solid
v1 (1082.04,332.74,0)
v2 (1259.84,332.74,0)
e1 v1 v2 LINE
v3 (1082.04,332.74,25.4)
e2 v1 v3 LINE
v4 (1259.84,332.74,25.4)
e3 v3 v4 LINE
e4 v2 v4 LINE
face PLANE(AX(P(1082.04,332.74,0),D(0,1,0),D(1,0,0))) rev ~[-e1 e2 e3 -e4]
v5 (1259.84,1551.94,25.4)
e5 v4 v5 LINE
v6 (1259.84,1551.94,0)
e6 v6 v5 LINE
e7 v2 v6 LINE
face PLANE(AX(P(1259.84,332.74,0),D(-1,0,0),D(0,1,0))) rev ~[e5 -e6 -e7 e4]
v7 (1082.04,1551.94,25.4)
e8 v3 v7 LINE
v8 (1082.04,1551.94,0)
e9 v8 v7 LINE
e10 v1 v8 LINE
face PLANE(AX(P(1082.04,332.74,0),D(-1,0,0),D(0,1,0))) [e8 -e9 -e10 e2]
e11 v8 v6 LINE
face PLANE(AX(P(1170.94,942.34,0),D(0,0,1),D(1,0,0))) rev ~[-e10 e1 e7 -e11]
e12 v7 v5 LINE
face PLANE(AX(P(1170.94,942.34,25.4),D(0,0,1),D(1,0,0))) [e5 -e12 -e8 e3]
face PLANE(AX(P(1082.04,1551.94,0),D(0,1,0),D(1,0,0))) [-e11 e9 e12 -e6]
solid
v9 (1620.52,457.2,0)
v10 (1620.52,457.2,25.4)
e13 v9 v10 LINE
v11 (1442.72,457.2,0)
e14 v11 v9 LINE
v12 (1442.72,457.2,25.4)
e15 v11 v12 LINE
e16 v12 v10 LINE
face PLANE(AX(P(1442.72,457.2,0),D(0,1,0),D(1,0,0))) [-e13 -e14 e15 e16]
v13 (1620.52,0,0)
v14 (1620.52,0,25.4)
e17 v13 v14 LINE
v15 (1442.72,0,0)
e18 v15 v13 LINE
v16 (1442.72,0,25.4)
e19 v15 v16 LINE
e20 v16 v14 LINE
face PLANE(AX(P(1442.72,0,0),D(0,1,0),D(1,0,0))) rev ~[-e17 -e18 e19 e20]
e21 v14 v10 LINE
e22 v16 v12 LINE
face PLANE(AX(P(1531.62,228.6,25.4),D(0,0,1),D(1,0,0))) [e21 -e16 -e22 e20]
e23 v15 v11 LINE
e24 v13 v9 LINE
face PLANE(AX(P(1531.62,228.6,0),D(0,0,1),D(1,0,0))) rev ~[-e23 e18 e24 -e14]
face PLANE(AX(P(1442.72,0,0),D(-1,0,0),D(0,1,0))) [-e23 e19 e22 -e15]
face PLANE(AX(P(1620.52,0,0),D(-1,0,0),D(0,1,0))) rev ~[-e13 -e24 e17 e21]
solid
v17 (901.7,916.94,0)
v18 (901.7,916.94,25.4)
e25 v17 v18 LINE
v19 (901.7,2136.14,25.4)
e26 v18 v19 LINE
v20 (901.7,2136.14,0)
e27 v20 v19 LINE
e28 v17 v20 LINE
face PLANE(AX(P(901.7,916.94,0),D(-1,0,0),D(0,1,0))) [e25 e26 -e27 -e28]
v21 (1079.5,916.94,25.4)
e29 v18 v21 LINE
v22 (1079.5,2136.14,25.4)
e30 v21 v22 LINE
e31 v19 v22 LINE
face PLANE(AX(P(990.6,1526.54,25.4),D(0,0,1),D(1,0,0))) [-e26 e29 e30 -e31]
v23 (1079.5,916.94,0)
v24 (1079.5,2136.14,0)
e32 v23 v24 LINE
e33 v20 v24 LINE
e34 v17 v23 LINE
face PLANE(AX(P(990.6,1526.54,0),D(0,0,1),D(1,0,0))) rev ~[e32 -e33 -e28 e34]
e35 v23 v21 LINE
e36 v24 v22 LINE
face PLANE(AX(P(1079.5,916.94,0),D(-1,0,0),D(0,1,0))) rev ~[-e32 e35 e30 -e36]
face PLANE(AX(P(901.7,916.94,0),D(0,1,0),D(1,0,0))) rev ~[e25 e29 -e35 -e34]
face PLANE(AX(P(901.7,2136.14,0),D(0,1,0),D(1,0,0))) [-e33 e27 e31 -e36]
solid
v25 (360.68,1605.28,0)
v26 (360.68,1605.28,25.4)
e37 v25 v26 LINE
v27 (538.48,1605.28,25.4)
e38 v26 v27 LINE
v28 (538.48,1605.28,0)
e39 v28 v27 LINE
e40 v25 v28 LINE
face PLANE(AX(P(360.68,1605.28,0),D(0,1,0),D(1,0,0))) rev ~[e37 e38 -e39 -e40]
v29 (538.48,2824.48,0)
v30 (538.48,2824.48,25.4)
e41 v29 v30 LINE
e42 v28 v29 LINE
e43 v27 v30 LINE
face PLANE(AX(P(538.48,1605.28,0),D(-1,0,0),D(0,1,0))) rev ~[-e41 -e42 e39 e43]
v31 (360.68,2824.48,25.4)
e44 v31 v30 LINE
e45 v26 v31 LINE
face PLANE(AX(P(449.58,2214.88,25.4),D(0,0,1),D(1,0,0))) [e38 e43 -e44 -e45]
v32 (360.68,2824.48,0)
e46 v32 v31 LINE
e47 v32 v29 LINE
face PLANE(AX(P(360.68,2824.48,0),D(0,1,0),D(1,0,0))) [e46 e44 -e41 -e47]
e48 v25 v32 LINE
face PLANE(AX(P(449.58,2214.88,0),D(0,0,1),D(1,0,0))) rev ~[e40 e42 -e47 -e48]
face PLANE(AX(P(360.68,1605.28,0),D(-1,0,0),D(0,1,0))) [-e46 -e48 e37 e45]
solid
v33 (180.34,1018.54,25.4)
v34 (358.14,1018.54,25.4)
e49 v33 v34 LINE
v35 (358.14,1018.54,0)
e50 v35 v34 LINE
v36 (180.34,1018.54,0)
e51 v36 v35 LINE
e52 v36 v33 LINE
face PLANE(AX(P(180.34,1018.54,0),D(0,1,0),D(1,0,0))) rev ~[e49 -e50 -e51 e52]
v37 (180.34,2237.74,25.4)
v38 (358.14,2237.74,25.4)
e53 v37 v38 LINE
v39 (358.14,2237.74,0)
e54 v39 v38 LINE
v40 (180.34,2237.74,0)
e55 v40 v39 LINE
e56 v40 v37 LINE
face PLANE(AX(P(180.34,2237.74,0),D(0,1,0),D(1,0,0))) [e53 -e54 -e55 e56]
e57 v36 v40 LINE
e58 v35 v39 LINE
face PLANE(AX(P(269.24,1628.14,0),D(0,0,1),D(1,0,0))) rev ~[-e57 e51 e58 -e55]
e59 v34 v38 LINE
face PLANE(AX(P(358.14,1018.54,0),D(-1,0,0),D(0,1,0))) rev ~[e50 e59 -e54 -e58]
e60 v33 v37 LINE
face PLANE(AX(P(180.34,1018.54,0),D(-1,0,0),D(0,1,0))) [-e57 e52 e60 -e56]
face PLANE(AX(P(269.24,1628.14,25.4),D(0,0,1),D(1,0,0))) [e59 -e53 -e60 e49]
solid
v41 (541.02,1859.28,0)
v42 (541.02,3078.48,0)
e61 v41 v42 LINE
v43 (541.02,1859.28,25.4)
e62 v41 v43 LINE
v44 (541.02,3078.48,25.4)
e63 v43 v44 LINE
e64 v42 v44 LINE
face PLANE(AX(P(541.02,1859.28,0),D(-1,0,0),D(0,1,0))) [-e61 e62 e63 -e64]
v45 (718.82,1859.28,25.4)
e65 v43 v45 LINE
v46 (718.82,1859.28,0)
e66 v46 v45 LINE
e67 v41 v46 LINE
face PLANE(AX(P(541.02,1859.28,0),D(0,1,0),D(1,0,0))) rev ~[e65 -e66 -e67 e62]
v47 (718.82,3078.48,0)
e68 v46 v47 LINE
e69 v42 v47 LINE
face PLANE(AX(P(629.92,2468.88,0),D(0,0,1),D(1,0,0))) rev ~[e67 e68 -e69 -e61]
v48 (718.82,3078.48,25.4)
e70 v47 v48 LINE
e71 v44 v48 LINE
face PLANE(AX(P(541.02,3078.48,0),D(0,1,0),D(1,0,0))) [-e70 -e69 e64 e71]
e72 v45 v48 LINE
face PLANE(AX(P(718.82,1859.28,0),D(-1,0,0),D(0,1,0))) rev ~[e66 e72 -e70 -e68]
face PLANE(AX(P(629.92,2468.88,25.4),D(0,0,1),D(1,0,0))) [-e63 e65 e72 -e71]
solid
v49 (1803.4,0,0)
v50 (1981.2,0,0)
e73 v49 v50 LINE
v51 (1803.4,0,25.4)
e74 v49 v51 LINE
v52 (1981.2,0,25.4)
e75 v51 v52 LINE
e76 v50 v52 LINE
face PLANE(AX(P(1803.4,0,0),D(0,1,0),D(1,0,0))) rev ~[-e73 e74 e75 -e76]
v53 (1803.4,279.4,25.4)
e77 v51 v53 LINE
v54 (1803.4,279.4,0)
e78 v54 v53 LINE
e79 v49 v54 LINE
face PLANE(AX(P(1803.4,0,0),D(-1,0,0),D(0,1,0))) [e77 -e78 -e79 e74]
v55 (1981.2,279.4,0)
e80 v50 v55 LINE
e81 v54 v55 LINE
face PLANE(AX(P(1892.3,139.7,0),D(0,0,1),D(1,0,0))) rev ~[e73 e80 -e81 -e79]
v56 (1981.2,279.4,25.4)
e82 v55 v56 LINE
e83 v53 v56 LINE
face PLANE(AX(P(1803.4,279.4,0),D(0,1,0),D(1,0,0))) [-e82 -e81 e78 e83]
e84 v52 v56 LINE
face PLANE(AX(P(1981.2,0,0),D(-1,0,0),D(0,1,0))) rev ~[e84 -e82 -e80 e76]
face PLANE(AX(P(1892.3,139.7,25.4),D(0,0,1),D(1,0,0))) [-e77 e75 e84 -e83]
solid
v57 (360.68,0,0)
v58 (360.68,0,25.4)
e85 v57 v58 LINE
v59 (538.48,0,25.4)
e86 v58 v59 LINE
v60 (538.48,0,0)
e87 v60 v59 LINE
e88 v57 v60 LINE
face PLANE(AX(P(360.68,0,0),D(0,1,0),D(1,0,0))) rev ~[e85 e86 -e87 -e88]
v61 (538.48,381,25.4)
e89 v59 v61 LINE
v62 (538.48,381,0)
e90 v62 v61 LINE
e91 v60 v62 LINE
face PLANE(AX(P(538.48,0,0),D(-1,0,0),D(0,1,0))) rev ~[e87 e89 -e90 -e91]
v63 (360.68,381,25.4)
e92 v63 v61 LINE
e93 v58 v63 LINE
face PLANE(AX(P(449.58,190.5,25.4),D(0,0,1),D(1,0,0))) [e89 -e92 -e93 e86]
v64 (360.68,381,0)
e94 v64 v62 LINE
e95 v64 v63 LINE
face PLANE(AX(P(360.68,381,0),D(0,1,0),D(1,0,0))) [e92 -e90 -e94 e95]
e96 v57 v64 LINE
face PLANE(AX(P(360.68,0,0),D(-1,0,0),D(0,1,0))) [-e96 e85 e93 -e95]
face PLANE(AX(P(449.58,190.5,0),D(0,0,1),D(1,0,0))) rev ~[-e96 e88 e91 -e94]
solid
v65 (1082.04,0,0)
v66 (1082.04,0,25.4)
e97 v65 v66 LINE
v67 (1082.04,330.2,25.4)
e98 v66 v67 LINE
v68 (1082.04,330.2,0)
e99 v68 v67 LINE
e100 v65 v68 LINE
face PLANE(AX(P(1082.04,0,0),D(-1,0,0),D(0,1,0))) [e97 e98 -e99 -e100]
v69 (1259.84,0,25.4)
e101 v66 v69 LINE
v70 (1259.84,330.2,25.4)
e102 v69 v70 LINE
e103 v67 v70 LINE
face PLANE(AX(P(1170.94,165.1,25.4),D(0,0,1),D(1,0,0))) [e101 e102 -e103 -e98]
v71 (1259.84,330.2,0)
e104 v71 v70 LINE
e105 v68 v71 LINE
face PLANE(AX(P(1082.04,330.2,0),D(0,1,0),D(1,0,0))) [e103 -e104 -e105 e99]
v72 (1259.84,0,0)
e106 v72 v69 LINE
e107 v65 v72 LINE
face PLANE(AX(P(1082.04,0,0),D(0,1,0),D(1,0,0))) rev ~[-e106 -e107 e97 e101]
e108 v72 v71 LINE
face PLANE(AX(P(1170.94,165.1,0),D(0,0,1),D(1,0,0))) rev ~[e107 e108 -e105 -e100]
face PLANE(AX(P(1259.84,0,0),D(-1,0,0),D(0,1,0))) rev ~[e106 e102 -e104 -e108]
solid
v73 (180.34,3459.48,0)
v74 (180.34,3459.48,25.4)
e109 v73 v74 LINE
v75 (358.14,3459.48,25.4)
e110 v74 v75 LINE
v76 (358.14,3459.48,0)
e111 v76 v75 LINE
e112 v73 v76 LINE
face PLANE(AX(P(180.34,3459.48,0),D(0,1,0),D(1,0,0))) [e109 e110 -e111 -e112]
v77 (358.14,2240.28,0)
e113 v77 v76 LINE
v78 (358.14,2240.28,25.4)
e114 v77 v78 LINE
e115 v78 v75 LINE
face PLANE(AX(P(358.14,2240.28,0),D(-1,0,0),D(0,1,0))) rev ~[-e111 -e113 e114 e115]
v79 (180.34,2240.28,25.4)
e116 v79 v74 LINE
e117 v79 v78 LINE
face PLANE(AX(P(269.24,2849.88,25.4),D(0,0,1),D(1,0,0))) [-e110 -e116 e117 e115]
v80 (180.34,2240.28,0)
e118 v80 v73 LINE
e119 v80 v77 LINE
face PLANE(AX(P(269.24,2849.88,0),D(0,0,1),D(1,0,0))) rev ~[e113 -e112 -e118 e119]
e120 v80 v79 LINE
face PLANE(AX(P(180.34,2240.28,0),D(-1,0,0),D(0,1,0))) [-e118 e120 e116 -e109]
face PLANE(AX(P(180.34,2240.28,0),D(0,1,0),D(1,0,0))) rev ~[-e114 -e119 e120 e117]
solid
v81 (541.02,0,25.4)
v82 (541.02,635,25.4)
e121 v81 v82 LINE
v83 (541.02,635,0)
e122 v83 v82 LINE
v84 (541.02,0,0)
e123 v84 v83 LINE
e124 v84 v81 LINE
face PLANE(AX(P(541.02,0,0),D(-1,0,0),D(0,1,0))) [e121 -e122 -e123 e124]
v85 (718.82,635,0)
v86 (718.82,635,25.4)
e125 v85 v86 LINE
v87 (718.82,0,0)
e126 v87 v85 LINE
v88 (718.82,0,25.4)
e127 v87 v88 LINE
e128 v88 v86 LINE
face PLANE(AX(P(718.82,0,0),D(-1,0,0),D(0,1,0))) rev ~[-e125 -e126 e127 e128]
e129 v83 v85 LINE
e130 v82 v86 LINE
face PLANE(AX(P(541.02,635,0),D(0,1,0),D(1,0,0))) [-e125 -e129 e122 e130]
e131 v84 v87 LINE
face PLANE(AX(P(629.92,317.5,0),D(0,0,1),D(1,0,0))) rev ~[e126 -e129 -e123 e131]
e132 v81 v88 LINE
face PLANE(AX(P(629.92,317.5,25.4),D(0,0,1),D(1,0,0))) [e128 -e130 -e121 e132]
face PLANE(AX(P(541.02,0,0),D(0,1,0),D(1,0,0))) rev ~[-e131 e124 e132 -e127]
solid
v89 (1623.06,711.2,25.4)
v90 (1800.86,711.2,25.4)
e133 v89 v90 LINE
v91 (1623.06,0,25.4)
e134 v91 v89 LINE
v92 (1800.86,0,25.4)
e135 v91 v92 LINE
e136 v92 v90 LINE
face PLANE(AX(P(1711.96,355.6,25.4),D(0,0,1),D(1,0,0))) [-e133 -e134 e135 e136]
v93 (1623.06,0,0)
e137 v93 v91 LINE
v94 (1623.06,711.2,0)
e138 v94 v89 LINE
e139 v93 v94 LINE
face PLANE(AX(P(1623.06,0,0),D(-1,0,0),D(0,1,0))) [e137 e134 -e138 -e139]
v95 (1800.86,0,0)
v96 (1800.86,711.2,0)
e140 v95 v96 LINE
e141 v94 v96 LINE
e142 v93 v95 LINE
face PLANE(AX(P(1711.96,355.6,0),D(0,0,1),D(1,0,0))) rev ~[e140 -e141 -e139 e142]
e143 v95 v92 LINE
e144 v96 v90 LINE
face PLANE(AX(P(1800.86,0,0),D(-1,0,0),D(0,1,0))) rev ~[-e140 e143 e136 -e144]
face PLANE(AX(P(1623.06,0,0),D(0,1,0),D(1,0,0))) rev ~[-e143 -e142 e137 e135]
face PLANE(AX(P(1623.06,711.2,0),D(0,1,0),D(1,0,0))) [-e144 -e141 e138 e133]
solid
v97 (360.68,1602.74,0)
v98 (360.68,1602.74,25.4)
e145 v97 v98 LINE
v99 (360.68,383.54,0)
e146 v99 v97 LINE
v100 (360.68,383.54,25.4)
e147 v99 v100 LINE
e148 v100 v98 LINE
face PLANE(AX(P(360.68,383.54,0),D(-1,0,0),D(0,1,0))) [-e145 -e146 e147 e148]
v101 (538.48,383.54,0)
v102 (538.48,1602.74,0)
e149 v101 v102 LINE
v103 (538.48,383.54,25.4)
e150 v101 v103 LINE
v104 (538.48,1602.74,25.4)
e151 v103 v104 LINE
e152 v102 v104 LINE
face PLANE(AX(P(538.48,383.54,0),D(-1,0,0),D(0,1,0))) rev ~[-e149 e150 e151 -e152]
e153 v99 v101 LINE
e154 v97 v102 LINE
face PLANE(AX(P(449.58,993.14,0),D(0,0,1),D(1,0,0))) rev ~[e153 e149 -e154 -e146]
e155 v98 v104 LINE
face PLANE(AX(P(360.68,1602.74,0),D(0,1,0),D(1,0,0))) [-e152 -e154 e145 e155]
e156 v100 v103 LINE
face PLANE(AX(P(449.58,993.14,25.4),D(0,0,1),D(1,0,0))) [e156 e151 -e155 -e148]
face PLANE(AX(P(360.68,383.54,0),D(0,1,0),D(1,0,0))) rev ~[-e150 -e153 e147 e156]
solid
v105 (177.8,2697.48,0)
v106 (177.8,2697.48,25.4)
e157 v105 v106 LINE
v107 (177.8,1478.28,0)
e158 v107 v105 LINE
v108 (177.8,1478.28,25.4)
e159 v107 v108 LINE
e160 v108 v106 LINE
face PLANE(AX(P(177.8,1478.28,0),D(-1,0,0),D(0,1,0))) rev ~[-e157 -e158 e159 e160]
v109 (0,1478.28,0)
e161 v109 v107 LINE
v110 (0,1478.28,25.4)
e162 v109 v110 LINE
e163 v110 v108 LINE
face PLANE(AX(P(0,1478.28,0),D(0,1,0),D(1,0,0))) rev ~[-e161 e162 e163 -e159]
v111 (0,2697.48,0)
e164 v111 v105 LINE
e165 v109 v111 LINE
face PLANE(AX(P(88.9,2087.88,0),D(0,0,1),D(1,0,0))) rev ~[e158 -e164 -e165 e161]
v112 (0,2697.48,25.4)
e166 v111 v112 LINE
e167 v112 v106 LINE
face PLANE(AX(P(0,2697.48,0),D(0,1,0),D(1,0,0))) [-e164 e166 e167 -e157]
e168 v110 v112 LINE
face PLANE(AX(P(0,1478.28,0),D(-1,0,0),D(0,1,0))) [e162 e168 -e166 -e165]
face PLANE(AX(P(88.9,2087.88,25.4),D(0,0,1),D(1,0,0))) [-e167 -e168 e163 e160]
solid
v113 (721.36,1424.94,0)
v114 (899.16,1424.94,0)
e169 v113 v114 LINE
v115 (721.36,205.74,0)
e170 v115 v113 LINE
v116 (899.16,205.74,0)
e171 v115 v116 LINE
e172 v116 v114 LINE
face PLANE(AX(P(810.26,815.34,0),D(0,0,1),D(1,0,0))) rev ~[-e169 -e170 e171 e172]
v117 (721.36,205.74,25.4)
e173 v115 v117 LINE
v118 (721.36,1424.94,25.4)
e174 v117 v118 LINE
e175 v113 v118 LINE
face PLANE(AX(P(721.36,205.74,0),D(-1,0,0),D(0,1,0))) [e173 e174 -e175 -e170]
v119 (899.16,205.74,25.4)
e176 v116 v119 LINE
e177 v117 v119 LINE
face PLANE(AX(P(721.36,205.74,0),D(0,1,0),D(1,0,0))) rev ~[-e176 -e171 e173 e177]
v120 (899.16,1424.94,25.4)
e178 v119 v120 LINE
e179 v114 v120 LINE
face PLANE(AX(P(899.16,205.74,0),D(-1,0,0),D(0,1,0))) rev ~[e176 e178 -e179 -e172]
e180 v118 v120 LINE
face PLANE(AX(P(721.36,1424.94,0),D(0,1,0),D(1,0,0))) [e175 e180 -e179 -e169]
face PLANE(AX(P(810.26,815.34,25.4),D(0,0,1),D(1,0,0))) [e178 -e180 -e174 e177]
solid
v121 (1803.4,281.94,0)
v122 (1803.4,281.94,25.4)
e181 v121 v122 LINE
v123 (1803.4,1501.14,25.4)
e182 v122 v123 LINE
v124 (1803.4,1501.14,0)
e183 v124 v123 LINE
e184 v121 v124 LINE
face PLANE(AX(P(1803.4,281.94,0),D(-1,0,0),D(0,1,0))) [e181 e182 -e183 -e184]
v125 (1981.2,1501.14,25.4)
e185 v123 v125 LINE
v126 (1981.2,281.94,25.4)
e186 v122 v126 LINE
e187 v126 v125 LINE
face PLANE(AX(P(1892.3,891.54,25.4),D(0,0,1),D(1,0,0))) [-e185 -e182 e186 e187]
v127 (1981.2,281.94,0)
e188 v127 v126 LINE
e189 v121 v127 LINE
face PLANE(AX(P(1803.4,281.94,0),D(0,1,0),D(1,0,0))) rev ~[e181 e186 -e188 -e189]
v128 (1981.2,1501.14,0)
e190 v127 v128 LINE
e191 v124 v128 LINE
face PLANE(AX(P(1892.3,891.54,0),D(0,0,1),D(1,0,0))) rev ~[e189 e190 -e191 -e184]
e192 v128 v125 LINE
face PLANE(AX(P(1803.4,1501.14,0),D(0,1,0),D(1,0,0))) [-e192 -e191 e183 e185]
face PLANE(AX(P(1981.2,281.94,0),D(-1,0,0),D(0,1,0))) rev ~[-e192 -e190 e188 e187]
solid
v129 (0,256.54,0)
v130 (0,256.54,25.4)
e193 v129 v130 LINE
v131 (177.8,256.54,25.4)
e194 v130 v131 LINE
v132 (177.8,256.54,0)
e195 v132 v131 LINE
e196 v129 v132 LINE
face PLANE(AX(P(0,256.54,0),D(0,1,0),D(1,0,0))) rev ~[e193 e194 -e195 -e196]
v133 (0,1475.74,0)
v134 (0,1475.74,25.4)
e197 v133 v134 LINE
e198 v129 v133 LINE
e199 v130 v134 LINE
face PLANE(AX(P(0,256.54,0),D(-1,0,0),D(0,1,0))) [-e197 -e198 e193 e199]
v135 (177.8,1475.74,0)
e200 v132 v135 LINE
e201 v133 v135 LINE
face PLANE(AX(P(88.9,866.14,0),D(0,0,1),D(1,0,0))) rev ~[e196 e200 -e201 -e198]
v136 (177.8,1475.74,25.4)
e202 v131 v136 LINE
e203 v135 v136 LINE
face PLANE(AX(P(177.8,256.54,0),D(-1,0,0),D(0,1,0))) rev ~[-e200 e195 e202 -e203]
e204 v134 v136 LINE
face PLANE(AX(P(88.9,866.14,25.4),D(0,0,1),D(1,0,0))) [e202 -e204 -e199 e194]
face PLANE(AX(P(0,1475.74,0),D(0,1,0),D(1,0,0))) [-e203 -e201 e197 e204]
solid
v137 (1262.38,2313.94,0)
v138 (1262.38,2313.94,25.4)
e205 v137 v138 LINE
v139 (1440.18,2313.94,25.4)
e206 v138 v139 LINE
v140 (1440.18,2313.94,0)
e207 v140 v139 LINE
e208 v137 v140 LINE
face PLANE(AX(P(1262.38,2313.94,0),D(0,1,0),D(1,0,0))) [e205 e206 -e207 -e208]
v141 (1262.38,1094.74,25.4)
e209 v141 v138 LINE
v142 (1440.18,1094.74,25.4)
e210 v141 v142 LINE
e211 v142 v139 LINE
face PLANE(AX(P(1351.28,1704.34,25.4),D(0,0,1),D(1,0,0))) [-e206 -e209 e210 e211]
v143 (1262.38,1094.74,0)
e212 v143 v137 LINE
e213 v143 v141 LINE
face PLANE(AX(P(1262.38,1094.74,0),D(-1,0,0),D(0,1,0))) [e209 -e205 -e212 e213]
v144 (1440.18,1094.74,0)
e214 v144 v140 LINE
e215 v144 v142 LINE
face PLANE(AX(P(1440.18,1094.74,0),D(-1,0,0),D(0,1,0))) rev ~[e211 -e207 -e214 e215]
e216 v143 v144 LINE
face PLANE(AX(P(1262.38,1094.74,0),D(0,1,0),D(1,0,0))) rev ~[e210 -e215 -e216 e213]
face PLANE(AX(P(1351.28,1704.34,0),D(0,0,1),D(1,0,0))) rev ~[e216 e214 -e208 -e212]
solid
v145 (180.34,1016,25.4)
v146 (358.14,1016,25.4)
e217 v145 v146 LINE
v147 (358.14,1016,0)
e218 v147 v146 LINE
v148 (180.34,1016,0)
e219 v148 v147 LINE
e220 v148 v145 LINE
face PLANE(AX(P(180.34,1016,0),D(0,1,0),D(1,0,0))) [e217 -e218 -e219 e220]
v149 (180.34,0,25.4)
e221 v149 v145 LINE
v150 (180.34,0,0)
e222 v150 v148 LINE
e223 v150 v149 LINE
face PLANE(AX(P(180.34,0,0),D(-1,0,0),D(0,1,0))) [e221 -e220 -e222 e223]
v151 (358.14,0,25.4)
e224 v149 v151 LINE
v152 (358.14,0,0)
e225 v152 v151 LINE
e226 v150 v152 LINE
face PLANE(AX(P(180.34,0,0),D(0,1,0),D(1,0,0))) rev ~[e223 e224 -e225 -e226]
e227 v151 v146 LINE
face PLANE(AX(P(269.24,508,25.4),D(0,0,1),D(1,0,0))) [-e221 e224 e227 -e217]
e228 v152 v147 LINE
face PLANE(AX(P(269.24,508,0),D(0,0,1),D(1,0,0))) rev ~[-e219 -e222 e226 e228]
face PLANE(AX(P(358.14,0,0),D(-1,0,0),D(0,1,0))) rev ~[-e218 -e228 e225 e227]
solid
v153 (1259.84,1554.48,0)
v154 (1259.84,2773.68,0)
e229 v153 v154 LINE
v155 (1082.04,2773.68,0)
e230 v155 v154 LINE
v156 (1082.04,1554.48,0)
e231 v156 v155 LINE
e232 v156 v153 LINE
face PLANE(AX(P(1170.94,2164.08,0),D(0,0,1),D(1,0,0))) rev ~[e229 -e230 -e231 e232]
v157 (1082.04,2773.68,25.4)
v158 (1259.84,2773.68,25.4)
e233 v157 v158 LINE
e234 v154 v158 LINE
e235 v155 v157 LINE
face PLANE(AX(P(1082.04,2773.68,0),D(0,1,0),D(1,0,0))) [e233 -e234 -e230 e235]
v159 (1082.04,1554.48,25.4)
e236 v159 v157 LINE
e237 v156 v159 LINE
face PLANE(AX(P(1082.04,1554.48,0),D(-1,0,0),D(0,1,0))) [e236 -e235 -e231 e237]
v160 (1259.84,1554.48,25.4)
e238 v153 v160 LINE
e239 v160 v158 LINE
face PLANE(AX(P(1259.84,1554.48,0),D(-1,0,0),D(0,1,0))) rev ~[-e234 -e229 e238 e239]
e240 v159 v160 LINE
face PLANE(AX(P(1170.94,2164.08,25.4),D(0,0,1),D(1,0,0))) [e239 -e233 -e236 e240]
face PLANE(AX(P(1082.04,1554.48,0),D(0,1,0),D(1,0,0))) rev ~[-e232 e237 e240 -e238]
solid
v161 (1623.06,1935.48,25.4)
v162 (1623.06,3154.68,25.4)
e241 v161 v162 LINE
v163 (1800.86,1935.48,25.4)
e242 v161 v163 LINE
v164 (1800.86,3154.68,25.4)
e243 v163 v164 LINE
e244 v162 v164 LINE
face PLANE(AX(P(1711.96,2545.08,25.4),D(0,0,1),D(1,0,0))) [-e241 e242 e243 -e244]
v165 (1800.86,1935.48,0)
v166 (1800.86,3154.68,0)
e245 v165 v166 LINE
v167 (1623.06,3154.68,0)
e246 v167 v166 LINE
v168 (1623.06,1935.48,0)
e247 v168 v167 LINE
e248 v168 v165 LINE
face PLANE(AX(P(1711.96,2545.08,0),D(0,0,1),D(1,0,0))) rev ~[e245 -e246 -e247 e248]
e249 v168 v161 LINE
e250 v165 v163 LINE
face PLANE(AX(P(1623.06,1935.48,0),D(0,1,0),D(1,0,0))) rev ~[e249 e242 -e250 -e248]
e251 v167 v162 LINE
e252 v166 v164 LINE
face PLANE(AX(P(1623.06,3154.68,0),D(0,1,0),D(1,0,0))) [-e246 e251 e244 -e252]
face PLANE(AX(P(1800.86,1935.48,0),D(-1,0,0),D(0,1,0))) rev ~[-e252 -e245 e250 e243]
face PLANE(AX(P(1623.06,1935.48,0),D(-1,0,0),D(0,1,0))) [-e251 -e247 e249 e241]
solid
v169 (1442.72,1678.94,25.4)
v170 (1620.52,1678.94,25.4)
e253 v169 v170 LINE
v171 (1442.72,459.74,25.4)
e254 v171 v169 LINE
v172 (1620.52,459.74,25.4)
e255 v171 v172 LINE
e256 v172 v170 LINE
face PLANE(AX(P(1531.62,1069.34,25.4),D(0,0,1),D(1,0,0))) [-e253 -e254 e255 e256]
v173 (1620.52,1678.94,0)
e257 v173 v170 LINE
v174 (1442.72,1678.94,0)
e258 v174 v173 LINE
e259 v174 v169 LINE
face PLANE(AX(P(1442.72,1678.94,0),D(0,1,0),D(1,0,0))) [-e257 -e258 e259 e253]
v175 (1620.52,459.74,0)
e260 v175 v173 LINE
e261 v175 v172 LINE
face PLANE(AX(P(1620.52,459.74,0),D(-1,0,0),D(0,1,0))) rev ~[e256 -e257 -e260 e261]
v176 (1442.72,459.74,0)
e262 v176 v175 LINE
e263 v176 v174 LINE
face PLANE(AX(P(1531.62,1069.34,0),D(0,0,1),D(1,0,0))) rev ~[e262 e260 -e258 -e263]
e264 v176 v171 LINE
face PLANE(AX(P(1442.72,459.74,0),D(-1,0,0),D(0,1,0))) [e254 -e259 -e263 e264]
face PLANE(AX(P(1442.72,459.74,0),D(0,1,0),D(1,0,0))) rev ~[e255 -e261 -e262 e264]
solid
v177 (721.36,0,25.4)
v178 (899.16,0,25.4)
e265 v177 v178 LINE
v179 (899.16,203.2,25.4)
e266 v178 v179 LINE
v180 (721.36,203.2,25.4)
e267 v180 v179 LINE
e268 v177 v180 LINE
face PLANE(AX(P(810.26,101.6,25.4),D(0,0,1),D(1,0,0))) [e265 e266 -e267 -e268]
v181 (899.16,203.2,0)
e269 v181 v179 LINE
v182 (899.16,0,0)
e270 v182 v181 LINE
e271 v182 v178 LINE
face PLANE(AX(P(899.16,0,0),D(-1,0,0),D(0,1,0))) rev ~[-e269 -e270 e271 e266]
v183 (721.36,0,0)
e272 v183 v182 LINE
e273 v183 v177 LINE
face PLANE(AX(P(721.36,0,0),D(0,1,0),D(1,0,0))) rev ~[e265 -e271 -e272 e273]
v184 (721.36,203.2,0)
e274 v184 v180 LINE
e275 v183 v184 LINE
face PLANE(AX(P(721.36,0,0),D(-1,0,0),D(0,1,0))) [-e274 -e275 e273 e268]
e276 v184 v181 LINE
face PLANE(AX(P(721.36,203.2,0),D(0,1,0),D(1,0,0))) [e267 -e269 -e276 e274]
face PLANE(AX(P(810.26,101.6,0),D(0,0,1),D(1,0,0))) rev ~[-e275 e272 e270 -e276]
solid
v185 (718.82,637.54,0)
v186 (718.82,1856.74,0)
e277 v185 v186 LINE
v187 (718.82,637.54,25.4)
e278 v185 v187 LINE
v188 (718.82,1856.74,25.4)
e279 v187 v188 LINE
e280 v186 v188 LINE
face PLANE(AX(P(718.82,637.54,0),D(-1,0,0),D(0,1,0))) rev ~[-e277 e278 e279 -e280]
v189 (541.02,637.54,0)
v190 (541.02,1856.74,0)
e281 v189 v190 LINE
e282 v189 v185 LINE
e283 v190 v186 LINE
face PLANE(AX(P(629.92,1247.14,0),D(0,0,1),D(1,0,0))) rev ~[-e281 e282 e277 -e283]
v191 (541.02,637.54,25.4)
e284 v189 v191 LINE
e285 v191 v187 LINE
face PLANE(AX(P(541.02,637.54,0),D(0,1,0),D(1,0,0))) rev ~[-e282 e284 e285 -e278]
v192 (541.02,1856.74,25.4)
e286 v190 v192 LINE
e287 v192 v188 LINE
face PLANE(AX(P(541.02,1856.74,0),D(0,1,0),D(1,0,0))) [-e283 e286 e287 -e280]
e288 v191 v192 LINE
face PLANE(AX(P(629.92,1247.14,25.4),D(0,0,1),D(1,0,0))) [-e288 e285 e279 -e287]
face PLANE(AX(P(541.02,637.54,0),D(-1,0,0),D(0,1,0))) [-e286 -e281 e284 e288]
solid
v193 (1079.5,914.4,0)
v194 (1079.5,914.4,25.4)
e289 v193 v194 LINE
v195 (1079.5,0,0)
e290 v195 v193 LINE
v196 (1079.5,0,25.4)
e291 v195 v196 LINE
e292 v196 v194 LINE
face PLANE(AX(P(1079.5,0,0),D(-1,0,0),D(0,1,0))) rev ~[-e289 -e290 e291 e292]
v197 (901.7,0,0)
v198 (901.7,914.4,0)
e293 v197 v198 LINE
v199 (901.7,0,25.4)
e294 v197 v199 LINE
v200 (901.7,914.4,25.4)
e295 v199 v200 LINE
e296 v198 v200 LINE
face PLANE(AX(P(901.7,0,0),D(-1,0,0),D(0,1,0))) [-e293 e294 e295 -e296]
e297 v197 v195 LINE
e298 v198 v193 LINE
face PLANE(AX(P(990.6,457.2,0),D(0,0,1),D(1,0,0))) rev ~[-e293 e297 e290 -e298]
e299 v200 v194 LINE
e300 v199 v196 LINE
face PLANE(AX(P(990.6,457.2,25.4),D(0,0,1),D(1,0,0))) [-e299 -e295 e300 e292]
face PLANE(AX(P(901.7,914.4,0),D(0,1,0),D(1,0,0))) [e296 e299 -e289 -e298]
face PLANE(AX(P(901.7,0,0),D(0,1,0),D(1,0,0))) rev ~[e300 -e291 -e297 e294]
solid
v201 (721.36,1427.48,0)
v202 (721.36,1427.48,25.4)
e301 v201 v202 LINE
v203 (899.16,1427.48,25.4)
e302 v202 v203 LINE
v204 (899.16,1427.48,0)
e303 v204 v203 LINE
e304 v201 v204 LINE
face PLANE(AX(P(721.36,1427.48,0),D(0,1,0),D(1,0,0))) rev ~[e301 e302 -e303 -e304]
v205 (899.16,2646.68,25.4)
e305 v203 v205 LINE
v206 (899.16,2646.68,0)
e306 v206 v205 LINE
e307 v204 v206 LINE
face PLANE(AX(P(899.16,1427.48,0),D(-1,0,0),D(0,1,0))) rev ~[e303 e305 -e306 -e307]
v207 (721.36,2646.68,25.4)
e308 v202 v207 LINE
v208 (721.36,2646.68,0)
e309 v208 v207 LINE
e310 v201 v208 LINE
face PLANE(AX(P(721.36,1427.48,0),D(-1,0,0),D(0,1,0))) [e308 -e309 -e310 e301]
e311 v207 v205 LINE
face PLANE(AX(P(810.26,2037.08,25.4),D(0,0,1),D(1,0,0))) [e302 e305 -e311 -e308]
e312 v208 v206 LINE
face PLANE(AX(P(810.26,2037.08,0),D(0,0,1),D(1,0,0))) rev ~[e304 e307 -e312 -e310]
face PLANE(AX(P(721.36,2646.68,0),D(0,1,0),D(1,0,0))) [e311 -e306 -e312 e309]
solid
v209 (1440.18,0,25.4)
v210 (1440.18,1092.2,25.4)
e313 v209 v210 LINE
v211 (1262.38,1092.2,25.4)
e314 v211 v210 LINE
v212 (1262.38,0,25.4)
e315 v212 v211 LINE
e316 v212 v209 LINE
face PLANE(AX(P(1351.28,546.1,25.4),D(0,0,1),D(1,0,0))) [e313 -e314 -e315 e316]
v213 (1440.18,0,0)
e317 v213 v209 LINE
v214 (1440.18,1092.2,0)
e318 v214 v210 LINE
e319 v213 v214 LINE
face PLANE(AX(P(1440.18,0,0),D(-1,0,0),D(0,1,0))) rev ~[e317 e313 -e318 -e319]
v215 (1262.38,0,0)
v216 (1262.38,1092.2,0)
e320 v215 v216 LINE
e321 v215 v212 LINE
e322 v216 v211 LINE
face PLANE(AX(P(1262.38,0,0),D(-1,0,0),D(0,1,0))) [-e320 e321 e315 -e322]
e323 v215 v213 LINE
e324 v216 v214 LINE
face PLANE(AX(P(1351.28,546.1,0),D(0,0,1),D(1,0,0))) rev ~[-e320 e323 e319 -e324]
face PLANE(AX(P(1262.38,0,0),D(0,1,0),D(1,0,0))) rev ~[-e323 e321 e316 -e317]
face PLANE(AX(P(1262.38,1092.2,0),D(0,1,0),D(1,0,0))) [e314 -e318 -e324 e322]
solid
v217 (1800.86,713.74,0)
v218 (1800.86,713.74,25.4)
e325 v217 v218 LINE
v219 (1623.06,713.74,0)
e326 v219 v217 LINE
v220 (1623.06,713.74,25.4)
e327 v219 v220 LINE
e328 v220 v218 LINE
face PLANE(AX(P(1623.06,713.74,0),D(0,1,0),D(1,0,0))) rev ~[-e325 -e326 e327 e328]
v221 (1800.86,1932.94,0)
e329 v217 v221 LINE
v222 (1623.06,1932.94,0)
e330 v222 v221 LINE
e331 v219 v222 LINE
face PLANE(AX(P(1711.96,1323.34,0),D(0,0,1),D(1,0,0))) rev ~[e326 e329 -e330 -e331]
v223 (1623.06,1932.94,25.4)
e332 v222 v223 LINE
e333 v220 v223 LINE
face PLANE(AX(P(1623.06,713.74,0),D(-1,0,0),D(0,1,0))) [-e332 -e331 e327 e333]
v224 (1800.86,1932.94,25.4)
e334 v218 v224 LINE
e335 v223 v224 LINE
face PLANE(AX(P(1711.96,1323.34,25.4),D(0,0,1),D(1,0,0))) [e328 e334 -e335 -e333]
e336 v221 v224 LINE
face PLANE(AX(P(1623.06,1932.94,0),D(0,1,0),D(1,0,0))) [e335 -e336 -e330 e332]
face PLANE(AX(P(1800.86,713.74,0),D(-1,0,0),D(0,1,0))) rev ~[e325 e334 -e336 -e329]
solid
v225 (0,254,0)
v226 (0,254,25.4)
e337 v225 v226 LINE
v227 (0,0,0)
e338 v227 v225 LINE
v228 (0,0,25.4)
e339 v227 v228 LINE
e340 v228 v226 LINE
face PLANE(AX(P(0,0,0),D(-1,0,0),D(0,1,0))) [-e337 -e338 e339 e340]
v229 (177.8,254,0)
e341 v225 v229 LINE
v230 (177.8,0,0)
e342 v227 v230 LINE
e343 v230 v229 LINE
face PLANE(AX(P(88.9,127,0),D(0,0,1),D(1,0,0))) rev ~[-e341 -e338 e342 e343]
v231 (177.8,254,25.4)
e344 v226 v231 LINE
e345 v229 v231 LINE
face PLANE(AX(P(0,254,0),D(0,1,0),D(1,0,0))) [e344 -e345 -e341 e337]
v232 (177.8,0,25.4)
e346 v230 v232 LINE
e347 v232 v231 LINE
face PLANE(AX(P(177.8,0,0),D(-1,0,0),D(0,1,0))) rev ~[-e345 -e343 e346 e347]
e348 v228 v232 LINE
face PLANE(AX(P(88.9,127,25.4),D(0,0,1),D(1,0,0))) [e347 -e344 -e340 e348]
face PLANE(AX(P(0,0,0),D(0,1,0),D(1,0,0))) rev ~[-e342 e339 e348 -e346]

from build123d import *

# Parameters (mm, degrees)
F0_W     = 177.8
F0_H     = 254
F0_H_2   = 1016
F0_H_3   = 381
F0_H_4   = 635
F0_H_5   = 203.2
F0_H_6   = 1219.2
F0_H_7   = 914.4
F0_H_8   = 330.2
F0_H_9   = 1092.2
F0_H_10  = 457.2
F0_H_11  = 711.2
F0_H_12  = 279.4
F1_DEPTH = 25.4


with BuildPart() as f1:
    # F0 (on Top) → F1 (new body)
    with BuildSketch(Plane.XY):
        with Locations((88.9, 127)):
            Rectangle(F0_W, F0_H)
        with Locations((269.24, 508)):
            Rectangle(F0_W, F0_H_2)
        with Locations((449.58, 190.5)):
            Rectangle(F0_W, F0_H_3)
        with Locations((629.92, 317.5)):
            Rectangle(F0_W, F0_H_4)
        with Locations((810.26, 101.6)):
            Rectangle(F0_W, F0_H_5)
        with Locations((88.9, 866.14)):
            Rectangle(F0_W, F0_H_6)
        with Locations((269.24, 1628.14)):
            Rectangle(F0_W, F0_H_6)
        with Locations((449.58, 993.14)):
            Rectangle(F0_W, F0_H_6)
        with Locations((629.92, 1247.14)):
            Rectangle(F0_W, F0_H_6)
        with Locations((810.26, 815.34)):
            Rectangle(F0_W, F0_H_6)
        with Locations((88.9, 2087.88)):
            Rectangle(F0_W, F0_H_6)
        with Locations((269.24, 2849.88)):
            Rectangle(F0_W, F0_H_6)
        with Locations((449.58, 2214.88)):
            Rectangle(F0_W, F0_H_6)
        with Locations((629.92, 2468.88)):
            Rectangle(F0_W, F0_H_6)
        with Locations((810.26, 2037.08)):
            Rectangle(F0_W, F0_H_6)
        with Locations((990.6, 457.2)):
            Rectangle(F0_W, F0_H_7)
        with Locations((990.6, 1526.54)):
            Rectangle(F0_W, F0_H_6)
        with Locations((1170.94, 165.1)):
            Rectangle(F0_W, F0_H_8)
        with Locations((1351.28, 546.1)):
            Rectangle(F0_W, F0_H_9)
        with Locations((1170.94, 942.34)):
            Rectangle(F0_W, F0_H_6)
        with Locations((1531.62, 228.6)):
            Rectangle(F0_W, F0_H_10)
        with Locations((1711.96, 355.6)):
            Rectangle(F0_W, F0_H_11)
        with Locations((1531.62, 1069.34)):
            Rectangle(F0_W, F0_H_6)
        with Locations((1711.96, 1323.34)):
            Rectangle(F0_W, F0_H_6)
        with Locations((1170.94, 2164.08)):
            Rectangle(F0_W, F0_H_6)
        with Locations((1351.28, 1704.34)):
            Rectangle(F0_W, F0_H_6)
        with Locations((1711.96, 2545.08)):
            Rectangle(F0_W, F0_H_6)
        with Locations((1892.3, 139.7)):
            Rectangle(F0_W, F0_H_12)
        with Locations((1892.3, 891.54)):
            Rectangle(F0_W, F0_H_6)
    extrude(amount=F1_DEPTH)


solid = f1.part
